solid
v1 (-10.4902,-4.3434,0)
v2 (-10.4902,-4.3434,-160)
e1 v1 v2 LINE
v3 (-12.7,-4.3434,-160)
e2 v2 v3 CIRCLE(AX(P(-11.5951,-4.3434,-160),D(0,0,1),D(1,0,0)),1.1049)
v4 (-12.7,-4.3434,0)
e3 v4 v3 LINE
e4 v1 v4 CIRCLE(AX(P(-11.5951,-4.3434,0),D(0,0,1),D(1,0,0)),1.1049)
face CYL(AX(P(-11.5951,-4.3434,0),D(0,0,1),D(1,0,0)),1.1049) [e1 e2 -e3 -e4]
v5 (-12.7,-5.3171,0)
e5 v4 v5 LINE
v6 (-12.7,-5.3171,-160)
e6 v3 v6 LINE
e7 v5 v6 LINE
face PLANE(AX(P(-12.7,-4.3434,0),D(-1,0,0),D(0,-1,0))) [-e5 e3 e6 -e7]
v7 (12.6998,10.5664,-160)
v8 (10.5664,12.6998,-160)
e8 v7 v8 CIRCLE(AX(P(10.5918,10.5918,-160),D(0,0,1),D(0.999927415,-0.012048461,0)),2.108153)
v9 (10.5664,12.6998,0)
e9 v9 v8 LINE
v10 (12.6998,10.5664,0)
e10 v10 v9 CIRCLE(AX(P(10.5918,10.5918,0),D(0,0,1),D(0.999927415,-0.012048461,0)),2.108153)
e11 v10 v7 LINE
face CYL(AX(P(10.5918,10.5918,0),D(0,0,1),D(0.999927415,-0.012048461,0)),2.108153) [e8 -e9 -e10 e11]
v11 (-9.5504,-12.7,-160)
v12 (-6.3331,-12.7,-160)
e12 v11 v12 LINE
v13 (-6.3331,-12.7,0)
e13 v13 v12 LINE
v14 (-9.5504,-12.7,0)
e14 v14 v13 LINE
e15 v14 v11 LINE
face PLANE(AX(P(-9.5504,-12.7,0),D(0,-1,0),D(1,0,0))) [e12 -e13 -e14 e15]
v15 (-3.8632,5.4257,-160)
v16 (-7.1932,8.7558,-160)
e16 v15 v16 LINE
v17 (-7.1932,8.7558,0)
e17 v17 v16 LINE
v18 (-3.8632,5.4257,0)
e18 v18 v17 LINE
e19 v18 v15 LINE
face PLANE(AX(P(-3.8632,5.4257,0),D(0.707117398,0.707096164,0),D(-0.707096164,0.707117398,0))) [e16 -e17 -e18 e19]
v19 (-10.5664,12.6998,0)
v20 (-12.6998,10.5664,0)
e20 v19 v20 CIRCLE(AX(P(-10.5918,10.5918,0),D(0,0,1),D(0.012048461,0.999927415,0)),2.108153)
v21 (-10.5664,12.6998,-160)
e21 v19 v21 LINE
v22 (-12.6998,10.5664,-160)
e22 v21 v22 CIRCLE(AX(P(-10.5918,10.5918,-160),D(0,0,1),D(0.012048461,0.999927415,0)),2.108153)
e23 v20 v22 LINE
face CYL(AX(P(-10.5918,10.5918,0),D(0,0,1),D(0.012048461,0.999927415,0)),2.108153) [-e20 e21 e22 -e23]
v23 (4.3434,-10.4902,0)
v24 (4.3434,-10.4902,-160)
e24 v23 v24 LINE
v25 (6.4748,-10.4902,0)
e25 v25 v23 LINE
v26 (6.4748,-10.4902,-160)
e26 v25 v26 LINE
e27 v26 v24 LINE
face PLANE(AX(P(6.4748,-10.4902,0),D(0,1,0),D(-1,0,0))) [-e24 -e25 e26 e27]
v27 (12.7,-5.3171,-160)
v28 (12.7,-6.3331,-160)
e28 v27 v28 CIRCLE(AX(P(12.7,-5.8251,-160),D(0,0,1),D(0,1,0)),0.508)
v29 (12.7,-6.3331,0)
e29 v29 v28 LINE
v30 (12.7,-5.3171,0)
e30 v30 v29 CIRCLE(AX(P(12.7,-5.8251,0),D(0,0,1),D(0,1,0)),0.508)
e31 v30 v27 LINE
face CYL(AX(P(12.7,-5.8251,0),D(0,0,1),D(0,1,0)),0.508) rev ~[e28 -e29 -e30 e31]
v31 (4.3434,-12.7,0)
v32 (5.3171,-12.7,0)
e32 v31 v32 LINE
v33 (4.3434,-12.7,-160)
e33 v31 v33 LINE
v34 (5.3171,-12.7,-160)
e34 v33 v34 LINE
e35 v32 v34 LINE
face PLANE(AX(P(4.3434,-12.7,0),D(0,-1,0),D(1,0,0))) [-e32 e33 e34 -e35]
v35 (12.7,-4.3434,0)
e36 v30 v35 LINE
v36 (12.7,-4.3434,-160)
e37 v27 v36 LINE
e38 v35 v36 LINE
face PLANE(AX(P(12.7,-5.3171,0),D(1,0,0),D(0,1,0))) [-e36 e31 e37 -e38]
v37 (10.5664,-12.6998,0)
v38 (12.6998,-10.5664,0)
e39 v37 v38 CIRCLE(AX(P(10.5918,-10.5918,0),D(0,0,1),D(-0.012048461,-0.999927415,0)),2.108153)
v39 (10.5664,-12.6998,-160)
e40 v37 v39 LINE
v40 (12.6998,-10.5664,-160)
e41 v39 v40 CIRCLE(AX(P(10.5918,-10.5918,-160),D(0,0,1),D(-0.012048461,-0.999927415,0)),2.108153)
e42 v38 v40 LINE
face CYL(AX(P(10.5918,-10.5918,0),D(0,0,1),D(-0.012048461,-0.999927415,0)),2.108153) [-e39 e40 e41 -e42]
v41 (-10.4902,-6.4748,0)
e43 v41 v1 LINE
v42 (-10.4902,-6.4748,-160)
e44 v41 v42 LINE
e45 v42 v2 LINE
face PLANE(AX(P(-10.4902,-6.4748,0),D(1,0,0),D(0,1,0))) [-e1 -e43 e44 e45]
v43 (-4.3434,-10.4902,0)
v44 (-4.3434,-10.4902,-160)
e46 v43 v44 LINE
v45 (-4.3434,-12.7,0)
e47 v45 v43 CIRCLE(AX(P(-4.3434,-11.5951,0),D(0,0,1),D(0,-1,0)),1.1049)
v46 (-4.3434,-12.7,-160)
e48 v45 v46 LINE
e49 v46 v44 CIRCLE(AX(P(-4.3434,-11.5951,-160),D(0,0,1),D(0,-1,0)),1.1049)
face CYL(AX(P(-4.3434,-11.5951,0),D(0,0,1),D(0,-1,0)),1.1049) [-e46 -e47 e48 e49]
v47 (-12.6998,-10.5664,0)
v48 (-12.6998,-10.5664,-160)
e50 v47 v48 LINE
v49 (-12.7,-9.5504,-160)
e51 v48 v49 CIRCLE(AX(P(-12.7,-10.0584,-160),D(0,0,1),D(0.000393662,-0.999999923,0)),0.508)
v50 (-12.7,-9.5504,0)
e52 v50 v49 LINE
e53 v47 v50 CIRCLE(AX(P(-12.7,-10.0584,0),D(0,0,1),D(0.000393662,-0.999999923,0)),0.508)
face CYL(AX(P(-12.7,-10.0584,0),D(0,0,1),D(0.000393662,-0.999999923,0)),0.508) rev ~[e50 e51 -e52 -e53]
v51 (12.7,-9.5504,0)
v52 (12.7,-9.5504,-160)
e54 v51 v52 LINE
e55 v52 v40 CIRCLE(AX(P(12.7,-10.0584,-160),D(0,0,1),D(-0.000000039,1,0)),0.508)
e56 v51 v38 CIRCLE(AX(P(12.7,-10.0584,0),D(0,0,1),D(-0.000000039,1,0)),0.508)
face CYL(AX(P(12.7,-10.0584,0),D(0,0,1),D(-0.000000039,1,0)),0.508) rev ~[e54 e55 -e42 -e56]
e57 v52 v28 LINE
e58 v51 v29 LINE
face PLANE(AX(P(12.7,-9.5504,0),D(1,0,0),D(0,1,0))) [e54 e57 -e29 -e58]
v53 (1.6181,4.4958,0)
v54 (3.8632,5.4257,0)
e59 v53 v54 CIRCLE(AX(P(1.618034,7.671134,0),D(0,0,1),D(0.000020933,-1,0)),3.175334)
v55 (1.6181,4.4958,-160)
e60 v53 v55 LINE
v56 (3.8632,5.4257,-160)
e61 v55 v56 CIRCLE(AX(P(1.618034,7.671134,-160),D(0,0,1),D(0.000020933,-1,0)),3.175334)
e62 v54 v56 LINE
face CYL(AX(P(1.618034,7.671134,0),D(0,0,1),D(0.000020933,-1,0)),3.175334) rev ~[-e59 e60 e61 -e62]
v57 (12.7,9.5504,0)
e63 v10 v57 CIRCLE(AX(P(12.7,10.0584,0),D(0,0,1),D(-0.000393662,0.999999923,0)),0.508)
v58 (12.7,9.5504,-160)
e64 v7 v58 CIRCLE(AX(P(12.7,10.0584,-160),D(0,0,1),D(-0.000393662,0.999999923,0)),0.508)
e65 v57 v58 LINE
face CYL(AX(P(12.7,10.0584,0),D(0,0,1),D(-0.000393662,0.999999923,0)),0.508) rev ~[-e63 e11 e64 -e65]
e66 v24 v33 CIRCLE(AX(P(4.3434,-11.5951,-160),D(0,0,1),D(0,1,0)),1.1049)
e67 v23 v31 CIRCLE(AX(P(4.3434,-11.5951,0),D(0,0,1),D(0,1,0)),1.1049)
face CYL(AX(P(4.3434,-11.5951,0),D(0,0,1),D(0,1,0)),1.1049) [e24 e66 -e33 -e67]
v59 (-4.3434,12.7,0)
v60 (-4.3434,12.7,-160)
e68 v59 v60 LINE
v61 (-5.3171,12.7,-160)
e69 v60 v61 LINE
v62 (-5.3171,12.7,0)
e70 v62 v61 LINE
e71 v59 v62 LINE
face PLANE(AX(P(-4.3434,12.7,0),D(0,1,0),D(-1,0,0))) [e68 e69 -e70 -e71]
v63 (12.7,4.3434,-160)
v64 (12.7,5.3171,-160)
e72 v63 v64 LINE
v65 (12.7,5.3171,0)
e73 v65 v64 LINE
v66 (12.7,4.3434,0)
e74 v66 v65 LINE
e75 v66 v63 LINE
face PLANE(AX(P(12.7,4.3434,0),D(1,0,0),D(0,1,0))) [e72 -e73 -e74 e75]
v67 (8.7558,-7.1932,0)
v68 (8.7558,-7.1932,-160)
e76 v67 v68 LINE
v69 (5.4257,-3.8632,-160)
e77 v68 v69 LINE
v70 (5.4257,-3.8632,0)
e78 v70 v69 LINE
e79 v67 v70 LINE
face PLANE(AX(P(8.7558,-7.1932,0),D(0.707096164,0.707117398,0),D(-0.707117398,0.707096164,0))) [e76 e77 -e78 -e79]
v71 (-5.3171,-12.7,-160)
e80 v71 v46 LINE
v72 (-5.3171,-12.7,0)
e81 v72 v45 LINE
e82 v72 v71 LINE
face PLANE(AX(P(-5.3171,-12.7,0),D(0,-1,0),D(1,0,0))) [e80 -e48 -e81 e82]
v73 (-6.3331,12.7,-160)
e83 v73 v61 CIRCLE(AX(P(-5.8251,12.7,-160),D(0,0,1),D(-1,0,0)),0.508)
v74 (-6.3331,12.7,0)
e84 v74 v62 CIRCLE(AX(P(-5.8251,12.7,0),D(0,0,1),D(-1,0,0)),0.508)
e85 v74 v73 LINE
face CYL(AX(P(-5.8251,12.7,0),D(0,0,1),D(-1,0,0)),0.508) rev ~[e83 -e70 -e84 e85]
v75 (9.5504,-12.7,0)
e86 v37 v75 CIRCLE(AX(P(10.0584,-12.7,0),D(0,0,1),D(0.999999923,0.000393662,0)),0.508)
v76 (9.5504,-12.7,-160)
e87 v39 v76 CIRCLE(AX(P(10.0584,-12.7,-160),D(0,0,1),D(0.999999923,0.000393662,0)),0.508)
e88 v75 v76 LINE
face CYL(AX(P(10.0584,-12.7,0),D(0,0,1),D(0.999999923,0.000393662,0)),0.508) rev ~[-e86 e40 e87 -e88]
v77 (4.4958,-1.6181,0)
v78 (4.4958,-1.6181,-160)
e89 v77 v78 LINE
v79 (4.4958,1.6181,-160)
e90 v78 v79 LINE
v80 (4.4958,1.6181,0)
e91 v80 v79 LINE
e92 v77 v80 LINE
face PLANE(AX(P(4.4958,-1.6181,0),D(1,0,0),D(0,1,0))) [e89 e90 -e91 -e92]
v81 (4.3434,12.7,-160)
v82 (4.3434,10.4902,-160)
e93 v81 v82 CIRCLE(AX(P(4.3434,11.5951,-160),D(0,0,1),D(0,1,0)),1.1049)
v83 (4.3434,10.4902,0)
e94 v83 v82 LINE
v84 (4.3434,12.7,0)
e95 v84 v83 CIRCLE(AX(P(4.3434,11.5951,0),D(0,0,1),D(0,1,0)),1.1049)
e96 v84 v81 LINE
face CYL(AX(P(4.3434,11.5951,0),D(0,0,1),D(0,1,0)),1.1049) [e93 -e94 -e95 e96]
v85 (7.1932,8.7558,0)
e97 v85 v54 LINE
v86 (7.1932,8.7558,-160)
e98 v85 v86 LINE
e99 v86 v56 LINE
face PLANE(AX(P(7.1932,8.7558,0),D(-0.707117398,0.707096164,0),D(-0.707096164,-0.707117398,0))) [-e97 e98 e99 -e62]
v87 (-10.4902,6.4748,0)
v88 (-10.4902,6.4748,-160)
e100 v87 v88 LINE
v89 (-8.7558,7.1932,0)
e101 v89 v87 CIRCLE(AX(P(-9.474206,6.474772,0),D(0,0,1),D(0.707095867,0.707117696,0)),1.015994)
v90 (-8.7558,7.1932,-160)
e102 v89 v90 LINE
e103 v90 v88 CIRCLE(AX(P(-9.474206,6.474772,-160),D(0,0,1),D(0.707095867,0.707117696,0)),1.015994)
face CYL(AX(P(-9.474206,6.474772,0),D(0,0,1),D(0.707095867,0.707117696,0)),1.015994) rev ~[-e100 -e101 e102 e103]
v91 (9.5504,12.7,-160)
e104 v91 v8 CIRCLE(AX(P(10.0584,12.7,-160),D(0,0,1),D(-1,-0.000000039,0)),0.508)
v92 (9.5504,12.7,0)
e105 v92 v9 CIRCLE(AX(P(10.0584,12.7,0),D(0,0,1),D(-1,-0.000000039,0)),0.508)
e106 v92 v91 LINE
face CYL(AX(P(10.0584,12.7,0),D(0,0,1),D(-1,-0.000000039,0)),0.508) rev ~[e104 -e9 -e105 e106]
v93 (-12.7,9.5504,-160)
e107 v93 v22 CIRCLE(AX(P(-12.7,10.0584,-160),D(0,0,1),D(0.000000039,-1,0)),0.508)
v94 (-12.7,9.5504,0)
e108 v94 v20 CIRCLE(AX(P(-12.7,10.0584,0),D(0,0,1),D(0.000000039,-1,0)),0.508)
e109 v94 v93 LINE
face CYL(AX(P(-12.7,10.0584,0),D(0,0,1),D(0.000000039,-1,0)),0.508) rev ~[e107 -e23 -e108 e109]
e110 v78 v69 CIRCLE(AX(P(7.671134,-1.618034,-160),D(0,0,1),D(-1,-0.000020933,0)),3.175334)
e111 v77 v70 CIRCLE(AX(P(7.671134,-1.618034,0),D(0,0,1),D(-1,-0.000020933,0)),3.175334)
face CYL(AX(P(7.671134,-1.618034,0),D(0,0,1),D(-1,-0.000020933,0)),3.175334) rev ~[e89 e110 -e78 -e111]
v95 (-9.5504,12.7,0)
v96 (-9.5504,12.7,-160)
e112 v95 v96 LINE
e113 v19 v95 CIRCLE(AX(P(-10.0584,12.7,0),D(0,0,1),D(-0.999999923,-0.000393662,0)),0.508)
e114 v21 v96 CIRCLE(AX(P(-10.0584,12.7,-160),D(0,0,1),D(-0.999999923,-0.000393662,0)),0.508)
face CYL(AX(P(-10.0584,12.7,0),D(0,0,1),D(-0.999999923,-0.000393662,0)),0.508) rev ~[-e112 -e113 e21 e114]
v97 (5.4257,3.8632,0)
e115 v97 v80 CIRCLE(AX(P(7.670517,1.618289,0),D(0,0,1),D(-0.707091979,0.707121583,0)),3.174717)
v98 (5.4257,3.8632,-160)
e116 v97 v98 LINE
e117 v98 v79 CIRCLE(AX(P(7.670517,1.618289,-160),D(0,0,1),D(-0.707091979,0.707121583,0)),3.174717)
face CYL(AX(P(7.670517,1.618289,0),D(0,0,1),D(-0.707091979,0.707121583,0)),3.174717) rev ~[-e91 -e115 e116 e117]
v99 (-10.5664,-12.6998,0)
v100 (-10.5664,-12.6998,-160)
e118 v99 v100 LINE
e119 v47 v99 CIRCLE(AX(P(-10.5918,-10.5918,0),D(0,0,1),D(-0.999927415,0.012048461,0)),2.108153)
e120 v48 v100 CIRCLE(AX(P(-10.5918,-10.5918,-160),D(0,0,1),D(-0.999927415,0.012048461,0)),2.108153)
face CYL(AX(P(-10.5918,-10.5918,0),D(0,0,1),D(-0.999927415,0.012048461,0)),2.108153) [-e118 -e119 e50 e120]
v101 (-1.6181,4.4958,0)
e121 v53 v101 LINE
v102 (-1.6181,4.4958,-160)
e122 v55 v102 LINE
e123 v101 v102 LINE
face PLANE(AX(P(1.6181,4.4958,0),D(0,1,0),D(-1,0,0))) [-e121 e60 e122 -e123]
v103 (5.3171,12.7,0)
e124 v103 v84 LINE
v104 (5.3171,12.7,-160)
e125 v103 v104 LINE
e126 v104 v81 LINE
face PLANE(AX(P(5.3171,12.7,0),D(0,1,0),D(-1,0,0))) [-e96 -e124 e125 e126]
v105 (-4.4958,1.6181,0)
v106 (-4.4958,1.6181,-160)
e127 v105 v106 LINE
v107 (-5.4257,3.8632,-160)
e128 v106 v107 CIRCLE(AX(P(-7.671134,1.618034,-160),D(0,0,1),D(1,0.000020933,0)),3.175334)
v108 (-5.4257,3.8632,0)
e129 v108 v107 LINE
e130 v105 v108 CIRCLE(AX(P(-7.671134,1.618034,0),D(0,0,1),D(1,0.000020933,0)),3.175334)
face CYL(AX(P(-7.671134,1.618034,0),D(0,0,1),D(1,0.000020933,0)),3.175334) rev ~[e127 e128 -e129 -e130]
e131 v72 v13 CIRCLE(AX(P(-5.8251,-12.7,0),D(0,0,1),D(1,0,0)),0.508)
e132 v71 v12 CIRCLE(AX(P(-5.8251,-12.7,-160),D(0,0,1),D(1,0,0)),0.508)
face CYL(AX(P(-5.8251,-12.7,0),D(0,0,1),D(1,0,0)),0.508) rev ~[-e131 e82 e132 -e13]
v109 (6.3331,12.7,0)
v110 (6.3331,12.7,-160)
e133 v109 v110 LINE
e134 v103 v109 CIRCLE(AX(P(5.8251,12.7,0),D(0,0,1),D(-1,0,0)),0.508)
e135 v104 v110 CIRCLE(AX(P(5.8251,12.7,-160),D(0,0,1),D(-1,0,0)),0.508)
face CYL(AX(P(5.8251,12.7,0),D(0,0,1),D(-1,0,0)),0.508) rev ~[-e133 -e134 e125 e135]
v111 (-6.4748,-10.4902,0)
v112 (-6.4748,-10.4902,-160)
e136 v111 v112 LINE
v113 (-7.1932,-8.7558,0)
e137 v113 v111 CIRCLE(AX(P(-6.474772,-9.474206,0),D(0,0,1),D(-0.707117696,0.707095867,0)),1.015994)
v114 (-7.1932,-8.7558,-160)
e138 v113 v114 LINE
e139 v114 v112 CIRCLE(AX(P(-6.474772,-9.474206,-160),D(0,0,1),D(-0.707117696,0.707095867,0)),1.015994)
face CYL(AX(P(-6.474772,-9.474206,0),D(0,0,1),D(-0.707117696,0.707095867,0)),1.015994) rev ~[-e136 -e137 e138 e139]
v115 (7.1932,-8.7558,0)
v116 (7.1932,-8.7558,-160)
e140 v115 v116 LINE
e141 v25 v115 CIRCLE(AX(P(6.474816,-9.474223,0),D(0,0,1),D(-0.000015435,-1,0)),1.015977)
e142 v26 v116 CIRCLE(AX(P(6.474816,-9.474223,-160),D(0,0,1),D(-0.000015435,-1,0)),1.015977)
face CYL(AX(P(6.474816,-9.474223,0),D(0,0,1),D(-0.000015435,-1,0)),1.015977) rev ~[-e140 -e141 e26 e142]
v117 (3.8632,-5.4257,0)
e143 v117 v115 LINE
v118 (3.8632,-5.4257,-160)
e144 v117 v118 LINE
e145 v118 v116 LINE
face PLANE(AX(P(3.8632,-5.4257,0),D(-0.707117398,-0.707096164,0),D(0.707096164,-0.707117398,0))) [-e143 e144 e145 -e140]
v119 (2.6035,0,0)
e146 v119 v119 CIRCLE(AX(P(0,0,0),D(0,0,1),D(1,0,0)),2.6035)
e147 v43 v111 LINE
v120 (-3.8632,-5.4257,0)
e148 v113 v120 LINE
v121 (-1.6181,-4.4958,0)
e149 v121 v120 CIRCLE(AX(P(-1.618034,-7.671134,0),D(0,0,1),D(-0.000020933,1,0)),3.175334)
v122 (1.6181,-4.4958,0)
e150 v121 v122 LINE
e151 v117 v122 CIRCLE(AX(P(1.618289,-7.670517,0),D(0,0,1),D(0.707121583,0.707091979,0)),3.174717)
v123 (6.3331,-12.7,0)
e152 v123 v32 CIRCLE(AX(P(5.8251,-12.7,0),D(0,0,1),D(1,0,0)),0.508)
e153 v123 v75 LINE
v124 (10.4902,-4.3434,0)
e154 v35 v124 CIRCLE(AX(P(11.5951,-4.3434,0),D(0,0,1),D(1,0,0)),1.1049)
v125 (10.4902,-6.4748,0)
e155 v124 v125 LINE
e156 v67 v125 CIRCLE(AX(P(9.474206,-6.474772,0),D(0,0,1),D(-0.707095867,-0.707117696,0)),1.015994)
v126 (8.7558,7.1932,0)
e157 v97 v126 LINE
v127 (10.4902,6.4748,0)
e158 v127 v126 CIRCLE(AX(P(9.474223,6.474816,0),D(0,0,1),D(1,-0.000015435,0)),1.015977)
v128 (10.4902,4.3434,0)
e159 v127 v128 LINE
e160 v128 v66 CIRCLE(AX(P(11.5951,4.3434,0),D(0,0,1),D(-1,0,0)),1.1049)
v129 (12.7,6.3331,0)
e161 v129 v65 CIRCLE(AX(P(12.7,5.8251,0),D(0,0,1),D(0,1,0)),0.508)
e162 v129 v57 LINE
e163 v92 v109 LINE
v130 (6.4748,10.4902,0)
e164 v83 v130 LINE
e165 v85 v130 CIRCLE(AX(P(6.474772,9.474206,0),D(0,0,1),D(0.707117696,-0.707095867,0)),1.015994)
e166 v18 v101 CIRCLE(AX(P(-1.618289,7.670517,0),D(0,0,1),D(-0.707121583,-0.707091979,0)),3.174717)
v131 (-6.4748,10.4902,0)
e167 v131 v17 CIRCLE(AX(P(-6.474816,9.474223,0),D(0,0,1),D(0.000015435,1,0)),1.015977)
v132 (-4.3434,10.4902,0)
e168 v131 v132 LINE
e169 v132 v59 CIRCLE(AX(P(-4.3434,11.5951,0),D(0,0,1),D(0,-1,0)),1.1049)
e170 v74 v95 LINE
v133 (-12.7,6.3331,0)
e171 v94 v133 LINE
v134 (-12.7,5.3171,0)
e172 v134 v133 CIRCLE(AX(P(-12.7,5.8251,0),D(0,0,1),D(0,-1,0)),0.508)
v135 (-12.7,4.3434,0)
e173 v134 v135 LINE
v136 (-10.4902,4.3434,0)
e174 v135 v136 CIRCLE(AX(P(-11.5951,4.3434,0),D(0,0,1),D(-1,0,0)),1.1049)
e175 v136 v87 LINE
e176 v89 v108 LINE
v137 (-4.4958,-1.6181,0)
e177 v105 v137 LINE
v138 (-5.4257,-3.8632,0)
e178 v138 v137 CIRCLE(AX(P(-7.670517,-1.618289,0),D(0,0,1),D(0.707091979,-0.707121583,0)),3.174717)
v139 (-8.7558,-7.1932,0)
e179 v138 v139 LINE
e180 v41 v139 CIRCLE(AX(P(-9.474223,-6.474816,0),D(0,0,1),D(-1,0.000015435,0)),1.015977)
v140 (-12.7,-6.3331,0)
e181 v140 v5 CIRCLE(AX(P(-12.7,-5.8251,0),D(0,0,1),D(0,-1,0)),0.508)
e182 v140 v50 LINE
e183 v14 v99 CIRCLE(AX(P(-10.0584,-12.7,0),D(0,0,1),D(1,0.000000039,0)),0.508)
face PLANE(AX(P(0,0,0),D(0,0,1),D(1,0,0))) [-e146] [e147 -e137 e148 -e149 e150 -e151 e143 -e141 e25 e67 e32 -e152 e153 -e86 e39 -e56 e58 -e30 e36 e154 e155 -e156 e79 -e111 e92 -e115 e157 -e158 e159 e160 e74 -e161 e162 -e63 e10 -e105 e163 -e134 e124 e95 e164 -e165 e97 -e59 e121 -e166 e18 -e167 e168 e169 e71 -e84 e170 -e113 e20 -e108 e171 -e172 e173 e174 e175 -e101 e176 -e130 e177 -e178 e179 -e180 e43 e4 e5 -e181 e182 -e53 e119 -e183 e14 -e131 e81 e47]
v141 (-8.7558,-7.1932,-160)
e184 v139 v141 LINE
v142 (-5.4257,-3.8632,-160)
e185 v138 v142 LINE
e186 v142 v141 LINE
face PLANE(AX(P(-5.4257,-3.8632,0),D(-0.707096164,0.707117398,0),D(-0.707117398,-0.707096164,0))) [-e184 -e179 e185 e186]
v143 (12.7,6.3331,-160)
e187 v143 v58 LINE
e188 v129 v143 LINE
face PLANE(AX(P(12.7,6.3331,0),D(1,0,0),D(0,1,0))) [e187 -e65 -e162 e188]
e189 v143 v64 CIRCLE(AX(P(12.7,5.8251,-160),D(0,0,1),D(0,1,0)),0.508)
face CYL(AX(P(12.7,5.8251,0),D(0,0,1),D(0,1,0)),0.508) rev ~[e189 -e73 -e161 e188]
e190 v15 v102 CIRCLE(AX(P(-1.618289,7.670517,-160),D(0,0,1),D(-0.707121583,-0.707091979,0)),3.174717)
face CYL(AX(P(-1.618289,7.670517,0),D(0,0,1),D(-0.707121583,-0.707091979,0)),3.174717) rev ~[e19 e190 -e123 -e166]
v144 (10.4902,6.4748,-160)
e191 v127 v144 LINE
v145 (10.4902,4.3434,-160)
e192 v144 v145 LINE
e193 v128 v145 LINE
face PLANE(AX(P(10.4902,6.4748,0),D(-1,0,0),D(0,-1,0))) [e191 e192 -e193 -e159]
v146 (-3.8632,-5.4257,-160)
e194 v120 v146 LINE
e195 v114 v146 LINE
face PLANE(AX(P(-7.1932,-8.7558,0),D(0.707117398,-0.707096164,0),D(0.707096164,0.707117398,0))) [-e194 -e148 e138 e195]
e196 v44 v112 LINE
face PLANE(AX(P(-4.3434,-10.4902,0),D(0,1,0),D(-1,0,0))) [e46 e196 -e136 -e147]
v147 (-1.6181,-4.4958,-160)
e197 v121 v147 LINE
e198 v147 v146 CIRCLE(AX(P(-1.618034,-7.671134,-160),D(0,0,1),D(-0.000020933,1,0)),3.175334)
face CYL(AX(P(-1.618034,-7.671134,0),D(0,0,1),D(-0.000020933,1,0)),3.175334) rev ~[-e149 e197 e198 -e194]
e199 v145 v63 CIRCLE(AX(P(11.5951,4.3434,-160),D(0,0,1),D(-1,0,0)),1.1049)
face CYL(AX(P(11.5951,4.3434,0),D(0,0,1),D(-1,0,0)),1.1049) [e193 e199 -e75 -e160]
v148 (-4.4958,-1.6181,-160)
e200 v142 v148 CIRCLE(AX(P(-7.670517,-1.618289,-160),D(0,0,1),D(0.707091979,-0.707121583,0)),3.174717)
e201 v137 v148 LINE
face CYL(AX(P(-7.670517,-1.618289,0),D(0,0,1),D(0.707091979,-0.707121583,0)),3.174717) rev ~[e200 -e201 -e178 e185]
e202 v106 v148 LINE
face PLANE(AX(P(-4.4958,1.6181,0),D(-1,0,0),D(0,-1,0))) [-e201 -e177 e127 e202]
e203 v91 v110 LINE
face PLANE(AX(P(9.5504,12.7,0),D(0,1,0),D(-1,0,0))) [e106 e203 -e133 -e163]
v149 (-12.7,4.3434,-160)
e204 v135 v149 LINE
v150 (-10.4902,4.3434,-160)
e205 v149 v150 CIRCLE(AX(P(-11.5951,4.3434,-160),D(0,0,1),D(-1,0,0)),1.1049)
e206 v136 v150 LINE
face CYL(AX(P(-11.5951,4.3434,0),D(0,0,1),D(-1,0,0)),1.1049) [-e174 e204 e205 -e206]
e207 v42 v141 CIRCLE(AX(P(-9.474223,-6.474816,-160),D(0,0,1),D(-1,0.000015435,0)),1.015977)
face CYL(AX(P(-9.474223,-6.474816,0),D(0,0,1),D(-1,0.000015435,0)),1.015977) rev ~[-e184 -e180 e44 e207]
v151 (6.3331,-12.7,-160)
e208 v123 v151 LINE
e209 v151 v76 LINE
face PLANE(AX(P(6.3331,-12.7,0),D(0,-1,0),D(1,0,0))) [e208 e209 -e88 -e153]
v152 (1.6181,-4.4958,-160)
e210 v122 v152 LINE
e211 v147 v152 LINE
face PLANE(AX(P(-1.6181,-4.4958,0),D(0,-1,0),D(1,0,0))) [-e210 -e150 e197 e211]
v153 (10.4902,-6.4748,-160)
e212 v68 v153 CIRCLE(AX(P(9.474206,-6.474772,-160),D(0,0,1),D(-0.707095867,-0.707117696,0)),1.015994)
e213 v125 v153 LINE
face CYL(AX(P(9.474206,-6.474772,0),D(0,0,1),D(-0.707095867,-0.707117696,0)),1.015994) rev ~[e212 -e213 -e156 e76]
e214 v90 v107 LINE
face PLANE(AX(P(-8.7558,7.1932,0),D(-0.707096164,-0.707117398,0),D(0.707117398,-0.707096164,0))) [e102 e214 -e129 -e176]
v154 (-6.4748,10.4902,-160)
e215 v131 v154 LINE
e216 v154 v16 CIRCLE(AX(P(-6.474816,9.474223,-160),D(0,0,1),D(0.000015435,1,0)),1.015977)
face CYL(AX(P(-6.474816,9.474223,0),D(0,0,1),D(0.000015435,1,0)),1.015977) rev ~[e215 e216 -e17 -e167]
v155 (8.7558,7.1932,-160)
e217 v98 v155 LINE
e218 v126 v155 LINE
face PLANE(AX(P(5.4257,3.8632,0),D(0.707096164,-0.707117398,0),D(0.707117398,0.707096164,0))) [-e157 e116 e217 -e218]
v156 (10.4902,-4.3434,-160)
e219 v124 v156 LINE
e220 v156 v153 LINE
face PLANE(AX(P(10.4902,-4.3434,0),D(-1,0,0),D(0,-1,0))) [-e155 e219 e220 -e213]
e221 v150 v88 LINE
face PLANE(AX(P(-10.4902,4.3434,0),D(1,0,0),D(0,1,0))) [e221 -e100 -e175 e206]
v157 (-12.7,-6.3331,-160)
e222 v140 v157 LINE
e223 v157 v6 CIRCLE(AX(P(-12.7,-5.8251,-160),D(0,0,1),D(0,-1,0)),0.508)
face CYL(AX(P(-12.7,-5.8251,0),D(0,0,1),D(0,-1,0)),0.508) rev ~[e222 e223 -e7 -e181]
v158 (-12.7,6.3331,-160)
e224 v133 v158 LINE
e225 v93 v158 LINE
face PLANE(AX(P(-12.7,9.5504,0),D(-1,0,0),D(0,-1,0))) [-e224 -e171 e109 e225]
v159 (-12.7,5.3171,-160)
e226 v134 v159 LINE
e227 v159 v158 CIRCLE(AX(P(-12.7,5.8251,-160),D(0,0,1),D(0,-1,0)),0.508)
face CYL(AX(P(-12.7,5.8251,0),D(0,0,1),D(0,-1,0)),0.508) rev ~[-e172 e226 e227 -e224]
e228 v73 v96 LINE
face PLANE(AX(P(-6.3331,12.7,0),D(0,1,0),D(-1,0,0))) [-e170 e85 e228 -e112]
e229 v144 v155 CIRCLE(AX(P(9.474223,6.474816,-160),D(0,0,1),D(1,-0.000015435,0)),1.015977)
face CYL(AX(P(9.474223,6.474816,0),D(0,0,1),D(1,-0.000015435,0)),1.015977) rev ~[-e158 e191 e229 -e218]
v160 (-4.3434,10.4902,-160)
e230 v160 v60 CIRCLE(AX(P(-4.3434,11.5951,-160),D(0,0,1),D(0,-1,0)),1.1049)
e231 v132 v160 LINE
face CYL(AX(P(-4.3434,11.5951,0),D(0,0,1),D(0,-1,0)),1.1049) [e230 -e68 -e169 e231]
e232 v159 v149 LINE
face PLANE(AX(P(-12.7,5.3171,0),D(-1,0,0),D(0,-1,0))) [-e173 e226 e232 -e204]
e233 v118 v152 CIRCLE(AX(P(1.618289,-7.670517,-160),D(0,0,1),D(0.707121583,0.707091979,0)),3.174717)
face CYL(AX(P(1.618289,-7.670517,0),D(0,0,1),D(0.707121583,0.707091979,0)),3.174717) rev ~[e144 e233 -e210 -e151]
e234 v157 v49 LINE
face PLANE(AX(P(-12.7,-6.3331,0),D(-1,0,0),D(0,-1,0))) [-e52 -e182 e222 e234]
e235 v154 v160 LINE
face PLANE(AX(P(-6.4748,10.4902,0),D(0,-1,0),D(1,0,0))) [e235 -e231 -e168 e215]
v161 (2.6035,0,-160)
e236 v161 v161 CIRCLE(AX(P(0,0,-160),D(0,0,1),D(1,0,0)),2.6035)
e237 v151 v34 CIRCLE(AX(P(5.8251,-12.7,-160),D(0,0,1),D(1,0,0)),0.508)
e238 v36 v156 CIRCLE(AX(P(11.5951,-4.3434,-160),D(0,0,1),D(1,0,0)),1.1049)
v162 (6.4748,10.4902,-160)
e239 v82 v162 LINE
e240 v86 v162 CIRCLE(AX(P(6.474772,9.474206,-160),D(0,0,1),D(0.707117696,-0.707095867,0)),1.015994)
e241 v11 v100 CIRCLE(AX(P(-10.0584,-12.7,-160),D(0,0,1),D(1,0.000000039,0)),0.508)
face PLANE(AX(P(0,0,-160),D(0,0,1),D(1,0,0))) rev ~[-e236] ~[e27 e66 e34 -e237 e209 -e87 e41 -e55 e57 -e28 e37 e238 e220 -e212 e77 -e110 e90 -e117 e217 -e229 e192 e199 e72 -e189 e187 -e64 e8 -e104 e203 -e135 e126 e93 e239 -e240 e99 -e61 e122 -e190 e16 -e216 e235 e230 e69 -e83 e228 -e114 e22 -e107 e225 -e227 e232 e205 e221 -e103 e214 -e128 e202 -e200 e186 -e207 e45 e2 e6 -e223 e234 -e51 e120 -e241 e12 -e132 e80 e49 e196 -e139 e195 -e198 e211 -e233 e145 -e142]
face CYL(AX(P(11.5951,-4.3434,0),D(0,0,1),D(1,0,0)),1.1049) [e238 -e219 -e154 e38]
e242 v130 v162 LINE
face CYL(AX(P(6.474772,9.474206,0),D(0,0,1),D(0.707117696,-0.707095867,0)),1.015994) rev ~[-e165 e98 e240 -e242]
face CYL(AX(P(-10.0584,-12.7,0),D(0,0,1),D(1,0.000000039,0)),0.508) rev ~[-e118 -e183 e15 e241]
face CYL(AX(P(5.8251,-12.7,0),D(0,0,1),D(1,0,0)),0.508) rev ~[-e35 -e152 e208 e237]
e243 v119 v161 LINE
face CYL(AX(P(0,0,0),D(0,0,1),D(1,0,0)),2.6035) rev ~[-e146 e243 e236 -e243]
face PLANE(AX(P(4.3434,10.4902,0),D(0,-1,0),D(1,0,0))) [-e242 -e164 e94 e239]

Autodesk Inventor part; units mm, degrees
sketch "Sketch_1" plane through (0, 0, 0) normal (0, 0, 1) x (1, 0, 0)
  arc A0 (-12.6998, -10.5664) -> (-10.5664, -12.6998) centre (-10.5918, -10.5918) ccw
  arc A1 (-9.5504, -12.7) -> (-10.5664, -12.6998) centre (-10.0584, -12.7) ccw
  line L0 (-9.5504, -12.7) -> (-6.3331, -12.7)
  arc A2 (-5.3171, -12.7) -> (-6.3331, -12.7) centre (-5.8251, -12.7) ccw
  line L1 (-5.3171, -12.7) -> (-4.3434, -12.7)
  arc A3 (-4.3434, -12.7) -> (-4.3434, -10.4902) centre (-4.3434, -11.5951) ccw
  line L2 (-4.3434, -10.4902) -> (-6.4748, -10.4902)
  arc A4 (-7.1932, -8.7558) -> (-6.4748, -10.4902) centre (-6.4748, -9.4742) ccw
  line L3 (-7.1932, -8.7558) -> (-3.8632, -5.4257)
  arc A5 (-1.6181, -4.4958) -> (-3.8632, -5.4257) centre (-1.6181, -7.6708) ccw
  line L4 (-1.6181, -4.4958) -> (1.6181, -4.4958)
  arc A6 (3.8632, -5.4257) -> (1.6181, -4.4958) centre (1.6181, -7.6708) ccw
  line L5 (3.8632, -5.4257) -> (7.1932, -8.7558)
  arc A7 (6.4748, -10.4902) -> (7.1932, -8.7558) centre (6.4748, -9.4742) ccw
  line L6 (6.4748, -10.4902) -> (4.3434, -10.4902)
  arc A8 (4.3434, -10.4902) -> (4.3434, -12.7) centre (4.3434, -11.5951) ccw
  line L7 (4.3434, -12.7) -> (5.3171, -12.7)
  arc A9 (6.3331, -12.7) -> (5.3171, -12.7) centre (5.8251, -12.7) ccw
  line L8 (6.3331, -12.7) -> (9.5504, -12.7)
  arc A10 (10.5664, -12.6998) -> (9.5504, -12.7) centre (10.0584, -12.7) ccw
  arc A11 (10.5664, -12.6998) -> (12.6998, -10.5664) centre (10.5918, -10.5918) ccw
  arc A12 (12.7, -9.5504) -> (12.6998, -10.5664) centre (12.7, -10.0584) ccw
  line L9 (12.7, -9.5504) -> (12.7, -6.3331)
  arc A13 (12.7, -5.3171) -> (12.7, -6.3331) centre (12.7, -5.8251) ccw
  line L10 (12.7, -5.3171) -> (12.7, -4.3434)
  arc A14 (12.7, -4.3434) -> (10.4902, -4.3434) centre (11.5951, -4.3434) ccw
  line L11 (10.4902, -4.3434) -> (10.4902, -6.4748)
  arc A15 (8.7558, -7.1932) -> (10.4902, -6.4748) centre (9.4742, -6.4748) ccw
  line L12 (8.7558, -7.1932) -> (5.4257, -3.8632)
  arc A16 (4.4958, -1.6181) -> (5.4257, -3.8632) centre (7.6708, -1.6181) ccw
  line L13 (4.4958, -1.6181) -> (4.4958, 1.6181)
  arc A17 (5.4257, 3.8632) -> (4.4958, 1.6181) centre (7.6708, 1.6181) ccw
  line L14 (5.4257, 3.8632) -> (8.7558, 7.1932)
  arc A18 (10.4902, 6.4748) -> (8.7558, 7.1932) centre (9.4742, 6.4748) ccw
  line L15 (10.4902, 6.4748) -> (10.4902, 4.3434)
  arc A19 (10.4902, 4.3434) -> (12.7, 4.3434) centre (11.5951, 4.3434) ccw
  line L16 (12.7, 4.3434) -> (12.7, 5.3171)
  arc A20 (12.7, 6.3331) -> (12.7, 5.3171) centre (12.7, 5.8251) ccw
  line L17 (12.7, 6.3331) -> (12.7, 9.5504)
  arc A21 (12.6998, 10.5664) -> (12.7, 9.5504) centre (12.7, 10.0584) ccw
  arc A22 (12.6998, 10.5664) -> (10.5664, 12.6998) centre (10.5918, 10.5918) ccw
  arc A23 (9.5504, 12.7) -> (10.5664, 12.6998) centre (10.0584, 12.7) ccw
  line L18 (9.5504, 12.7) -> (6.3331, 12.7)
  arc A24 (5.3171, 12.7) -> (6.3331, 12.7) centre (5.8251, 12.7) ccw
  line L19 (5.3171, 12.7) -> (4.3434, 12.7)
  arc A25 (4.3434, 12.7) -> (4.3434, 10.4902) centre (4.3434, 11.5951) ccw
  line L20 (4.3434, 10.4902) -> (6.4748, 10.4902)
  arc A26 (7.1932, 8.7558) -> (6.4748, 10.4902) centre (6.4748, 9.4742) ccw
  line L21 (7.1932, 8.7558) -> (3.8632, 5.4257)
  arc A27 (1.6181, 4.4958) -> (3.8632, 5.4257) centre (1.6181, 7.6708) ccw
  line L22 (1.6181, 4.4958) -> (-1.6181, 4.4958)
  arc A28 (-3.8632, 5.4257) -> (-1.6181, 4.4958) centre (-1.6181, 7.6708) ccw
  line L23 (-3.8632, 5.4257) -> (-7.1932, 8.7558)
  arc A29 (-6.4748, 10.4902) -> (-7.1932, 8.7558) centre (-6.4748, 9.4742) ccw
  line L24 (-6.4748, 10.4902) -> (-4.3434, 10.4902)
  arc A30 (-4.3434, 10.4902) -> (-4.3434, 12.7) centre (-4.3434, 11.5951) ccw
  line L25 (-4.3434, 12.7) -> (-5.3171, 12.7)
  arc A31 (-6.3331, 12.7) -> (-5.3171, 12.7) centre (-5.8251, 12.7) ccw
  line L26 (-6.3331, 12.7) -> (-9.5504, 12.7)
  arc A32 (-10.5664, 12.6998) -> (-9.5504, 12.7) centre (-10.0584, 12.7) ccw
  arc A33 (-10.5664, 12.6998) -> (-12.6998, 10.5664) centre (-10.5918, 10.5918) ccw
  arc A34 (-12.7, 9.5504) -> (-12.6998, 10.5664) centre (-12.7, 10.0584) ccw
  line L27 (-12.7, 9.5504) -> (-12.7, 6.3331)
  arc A35 (-12.7, 5.3171) -> (-12.7, 6.3331) centre (-12.7, 5.8251) ccw
  line L28 (-12.7, 5.3171) -> (-12.7, 4.3434)
  arc A36 (-12.7, 4.3434) -> (-10.4902, 4.3434) centre (-11.5951, 4.3434) ccw
  line L29 (-10.4902, 4.3434) -> (-10.4902, 6.4748)
  arc A37 (-8.7558, 7.1932) -> (-10.4902, 6.4748) centre (-9.4742, 6.4748) ccw
  line L30 (-8.7558, 7.1932) -> (-5.4257, 3.8632)
  arc A38 (-4.4958, 1.6181) -> (-5.4257, 3.8632) centre (-7.6708, 1.6181) ccw
  line L31 (-4.4958, 1.6181) -> (-4.4958, -1.6181)
  arc A39 (-5.4257, -3.8632) -> (-4.4958, -1.6181) centre (-7.6708, -1.6181) ccw
  line L32 (-5.4257, -3.8632) -> (-8.7558, -7.1932)
  arc A40 (-10.4902, -6.4748) -> (-8.7558, -7.1932) centre (-9.4742, -6.4748) ccw
  line L33 (-10.4902, -6.4748) -> (-10.4902, -4.3434)
  arc A41 (-10.4902, -4.3434) -> (-12.7, -4.3434) centre (-11.5951, -4.3434) ccw
  line L34 (-12.7, -4.3434) -> (-12.7, -5.3171)
  arc A42 (-12.7, -6.3331) -> (-12.7, -5.3171) centre (-12.7, -5.8251) ccw
  line L35 (-12.7, -6.3331) -> (-12.7, -9.5504)
  arc A43 (-12.6998, -10.5664) -> (-12.7, -9.5504) centre (-12.7, -10.0584) ccw
  circle A44 centre (0, 0) radius 2.6035
extrude "Extrusion1" add sketch "Sketch_1" against normal blind 160
ref_plane "b1_XY" through (-12.7, 0, -12.7) normal (1, 0, 0) x (0, 0, -1)
ref_plane "b1_YZ" through (-12.7, 0, -12.7) normal (0, 0, -1) x (0, 1, 0)
ref_plane "b1_ZX" through (-12.7, 0, -12.7) normal (0, 1, 0) x (1, 0, 0)
ref_plane "b2_XY" through (12.7, 0, -12.7) normal (1, 0, 0) x (0, 0, -1)
ref_plane "b2_YZ" through (12.7, 0, -12.7) normal (0, 0, -1) x (0, 1, 0)
ref_plane "b2_ZX" through (12.7, 0, -12.7) normal (0, 1, 0) x (1, 0, 0)
ref_plane "profile1010_XY" through (0, 0, -12.7) normal (0, 0, 1) x (1, 0, 0)
ref_plane "profile1010_YZ" through (0, 0, -12.7) normal (1, 0, 0) x (0, 1, 0)
ref_plane "profile1010_ZX" through (0, 0, -12.7) normal (0, 1, 0) x (0, 0, 1)
properties part number "1010_160mm"
